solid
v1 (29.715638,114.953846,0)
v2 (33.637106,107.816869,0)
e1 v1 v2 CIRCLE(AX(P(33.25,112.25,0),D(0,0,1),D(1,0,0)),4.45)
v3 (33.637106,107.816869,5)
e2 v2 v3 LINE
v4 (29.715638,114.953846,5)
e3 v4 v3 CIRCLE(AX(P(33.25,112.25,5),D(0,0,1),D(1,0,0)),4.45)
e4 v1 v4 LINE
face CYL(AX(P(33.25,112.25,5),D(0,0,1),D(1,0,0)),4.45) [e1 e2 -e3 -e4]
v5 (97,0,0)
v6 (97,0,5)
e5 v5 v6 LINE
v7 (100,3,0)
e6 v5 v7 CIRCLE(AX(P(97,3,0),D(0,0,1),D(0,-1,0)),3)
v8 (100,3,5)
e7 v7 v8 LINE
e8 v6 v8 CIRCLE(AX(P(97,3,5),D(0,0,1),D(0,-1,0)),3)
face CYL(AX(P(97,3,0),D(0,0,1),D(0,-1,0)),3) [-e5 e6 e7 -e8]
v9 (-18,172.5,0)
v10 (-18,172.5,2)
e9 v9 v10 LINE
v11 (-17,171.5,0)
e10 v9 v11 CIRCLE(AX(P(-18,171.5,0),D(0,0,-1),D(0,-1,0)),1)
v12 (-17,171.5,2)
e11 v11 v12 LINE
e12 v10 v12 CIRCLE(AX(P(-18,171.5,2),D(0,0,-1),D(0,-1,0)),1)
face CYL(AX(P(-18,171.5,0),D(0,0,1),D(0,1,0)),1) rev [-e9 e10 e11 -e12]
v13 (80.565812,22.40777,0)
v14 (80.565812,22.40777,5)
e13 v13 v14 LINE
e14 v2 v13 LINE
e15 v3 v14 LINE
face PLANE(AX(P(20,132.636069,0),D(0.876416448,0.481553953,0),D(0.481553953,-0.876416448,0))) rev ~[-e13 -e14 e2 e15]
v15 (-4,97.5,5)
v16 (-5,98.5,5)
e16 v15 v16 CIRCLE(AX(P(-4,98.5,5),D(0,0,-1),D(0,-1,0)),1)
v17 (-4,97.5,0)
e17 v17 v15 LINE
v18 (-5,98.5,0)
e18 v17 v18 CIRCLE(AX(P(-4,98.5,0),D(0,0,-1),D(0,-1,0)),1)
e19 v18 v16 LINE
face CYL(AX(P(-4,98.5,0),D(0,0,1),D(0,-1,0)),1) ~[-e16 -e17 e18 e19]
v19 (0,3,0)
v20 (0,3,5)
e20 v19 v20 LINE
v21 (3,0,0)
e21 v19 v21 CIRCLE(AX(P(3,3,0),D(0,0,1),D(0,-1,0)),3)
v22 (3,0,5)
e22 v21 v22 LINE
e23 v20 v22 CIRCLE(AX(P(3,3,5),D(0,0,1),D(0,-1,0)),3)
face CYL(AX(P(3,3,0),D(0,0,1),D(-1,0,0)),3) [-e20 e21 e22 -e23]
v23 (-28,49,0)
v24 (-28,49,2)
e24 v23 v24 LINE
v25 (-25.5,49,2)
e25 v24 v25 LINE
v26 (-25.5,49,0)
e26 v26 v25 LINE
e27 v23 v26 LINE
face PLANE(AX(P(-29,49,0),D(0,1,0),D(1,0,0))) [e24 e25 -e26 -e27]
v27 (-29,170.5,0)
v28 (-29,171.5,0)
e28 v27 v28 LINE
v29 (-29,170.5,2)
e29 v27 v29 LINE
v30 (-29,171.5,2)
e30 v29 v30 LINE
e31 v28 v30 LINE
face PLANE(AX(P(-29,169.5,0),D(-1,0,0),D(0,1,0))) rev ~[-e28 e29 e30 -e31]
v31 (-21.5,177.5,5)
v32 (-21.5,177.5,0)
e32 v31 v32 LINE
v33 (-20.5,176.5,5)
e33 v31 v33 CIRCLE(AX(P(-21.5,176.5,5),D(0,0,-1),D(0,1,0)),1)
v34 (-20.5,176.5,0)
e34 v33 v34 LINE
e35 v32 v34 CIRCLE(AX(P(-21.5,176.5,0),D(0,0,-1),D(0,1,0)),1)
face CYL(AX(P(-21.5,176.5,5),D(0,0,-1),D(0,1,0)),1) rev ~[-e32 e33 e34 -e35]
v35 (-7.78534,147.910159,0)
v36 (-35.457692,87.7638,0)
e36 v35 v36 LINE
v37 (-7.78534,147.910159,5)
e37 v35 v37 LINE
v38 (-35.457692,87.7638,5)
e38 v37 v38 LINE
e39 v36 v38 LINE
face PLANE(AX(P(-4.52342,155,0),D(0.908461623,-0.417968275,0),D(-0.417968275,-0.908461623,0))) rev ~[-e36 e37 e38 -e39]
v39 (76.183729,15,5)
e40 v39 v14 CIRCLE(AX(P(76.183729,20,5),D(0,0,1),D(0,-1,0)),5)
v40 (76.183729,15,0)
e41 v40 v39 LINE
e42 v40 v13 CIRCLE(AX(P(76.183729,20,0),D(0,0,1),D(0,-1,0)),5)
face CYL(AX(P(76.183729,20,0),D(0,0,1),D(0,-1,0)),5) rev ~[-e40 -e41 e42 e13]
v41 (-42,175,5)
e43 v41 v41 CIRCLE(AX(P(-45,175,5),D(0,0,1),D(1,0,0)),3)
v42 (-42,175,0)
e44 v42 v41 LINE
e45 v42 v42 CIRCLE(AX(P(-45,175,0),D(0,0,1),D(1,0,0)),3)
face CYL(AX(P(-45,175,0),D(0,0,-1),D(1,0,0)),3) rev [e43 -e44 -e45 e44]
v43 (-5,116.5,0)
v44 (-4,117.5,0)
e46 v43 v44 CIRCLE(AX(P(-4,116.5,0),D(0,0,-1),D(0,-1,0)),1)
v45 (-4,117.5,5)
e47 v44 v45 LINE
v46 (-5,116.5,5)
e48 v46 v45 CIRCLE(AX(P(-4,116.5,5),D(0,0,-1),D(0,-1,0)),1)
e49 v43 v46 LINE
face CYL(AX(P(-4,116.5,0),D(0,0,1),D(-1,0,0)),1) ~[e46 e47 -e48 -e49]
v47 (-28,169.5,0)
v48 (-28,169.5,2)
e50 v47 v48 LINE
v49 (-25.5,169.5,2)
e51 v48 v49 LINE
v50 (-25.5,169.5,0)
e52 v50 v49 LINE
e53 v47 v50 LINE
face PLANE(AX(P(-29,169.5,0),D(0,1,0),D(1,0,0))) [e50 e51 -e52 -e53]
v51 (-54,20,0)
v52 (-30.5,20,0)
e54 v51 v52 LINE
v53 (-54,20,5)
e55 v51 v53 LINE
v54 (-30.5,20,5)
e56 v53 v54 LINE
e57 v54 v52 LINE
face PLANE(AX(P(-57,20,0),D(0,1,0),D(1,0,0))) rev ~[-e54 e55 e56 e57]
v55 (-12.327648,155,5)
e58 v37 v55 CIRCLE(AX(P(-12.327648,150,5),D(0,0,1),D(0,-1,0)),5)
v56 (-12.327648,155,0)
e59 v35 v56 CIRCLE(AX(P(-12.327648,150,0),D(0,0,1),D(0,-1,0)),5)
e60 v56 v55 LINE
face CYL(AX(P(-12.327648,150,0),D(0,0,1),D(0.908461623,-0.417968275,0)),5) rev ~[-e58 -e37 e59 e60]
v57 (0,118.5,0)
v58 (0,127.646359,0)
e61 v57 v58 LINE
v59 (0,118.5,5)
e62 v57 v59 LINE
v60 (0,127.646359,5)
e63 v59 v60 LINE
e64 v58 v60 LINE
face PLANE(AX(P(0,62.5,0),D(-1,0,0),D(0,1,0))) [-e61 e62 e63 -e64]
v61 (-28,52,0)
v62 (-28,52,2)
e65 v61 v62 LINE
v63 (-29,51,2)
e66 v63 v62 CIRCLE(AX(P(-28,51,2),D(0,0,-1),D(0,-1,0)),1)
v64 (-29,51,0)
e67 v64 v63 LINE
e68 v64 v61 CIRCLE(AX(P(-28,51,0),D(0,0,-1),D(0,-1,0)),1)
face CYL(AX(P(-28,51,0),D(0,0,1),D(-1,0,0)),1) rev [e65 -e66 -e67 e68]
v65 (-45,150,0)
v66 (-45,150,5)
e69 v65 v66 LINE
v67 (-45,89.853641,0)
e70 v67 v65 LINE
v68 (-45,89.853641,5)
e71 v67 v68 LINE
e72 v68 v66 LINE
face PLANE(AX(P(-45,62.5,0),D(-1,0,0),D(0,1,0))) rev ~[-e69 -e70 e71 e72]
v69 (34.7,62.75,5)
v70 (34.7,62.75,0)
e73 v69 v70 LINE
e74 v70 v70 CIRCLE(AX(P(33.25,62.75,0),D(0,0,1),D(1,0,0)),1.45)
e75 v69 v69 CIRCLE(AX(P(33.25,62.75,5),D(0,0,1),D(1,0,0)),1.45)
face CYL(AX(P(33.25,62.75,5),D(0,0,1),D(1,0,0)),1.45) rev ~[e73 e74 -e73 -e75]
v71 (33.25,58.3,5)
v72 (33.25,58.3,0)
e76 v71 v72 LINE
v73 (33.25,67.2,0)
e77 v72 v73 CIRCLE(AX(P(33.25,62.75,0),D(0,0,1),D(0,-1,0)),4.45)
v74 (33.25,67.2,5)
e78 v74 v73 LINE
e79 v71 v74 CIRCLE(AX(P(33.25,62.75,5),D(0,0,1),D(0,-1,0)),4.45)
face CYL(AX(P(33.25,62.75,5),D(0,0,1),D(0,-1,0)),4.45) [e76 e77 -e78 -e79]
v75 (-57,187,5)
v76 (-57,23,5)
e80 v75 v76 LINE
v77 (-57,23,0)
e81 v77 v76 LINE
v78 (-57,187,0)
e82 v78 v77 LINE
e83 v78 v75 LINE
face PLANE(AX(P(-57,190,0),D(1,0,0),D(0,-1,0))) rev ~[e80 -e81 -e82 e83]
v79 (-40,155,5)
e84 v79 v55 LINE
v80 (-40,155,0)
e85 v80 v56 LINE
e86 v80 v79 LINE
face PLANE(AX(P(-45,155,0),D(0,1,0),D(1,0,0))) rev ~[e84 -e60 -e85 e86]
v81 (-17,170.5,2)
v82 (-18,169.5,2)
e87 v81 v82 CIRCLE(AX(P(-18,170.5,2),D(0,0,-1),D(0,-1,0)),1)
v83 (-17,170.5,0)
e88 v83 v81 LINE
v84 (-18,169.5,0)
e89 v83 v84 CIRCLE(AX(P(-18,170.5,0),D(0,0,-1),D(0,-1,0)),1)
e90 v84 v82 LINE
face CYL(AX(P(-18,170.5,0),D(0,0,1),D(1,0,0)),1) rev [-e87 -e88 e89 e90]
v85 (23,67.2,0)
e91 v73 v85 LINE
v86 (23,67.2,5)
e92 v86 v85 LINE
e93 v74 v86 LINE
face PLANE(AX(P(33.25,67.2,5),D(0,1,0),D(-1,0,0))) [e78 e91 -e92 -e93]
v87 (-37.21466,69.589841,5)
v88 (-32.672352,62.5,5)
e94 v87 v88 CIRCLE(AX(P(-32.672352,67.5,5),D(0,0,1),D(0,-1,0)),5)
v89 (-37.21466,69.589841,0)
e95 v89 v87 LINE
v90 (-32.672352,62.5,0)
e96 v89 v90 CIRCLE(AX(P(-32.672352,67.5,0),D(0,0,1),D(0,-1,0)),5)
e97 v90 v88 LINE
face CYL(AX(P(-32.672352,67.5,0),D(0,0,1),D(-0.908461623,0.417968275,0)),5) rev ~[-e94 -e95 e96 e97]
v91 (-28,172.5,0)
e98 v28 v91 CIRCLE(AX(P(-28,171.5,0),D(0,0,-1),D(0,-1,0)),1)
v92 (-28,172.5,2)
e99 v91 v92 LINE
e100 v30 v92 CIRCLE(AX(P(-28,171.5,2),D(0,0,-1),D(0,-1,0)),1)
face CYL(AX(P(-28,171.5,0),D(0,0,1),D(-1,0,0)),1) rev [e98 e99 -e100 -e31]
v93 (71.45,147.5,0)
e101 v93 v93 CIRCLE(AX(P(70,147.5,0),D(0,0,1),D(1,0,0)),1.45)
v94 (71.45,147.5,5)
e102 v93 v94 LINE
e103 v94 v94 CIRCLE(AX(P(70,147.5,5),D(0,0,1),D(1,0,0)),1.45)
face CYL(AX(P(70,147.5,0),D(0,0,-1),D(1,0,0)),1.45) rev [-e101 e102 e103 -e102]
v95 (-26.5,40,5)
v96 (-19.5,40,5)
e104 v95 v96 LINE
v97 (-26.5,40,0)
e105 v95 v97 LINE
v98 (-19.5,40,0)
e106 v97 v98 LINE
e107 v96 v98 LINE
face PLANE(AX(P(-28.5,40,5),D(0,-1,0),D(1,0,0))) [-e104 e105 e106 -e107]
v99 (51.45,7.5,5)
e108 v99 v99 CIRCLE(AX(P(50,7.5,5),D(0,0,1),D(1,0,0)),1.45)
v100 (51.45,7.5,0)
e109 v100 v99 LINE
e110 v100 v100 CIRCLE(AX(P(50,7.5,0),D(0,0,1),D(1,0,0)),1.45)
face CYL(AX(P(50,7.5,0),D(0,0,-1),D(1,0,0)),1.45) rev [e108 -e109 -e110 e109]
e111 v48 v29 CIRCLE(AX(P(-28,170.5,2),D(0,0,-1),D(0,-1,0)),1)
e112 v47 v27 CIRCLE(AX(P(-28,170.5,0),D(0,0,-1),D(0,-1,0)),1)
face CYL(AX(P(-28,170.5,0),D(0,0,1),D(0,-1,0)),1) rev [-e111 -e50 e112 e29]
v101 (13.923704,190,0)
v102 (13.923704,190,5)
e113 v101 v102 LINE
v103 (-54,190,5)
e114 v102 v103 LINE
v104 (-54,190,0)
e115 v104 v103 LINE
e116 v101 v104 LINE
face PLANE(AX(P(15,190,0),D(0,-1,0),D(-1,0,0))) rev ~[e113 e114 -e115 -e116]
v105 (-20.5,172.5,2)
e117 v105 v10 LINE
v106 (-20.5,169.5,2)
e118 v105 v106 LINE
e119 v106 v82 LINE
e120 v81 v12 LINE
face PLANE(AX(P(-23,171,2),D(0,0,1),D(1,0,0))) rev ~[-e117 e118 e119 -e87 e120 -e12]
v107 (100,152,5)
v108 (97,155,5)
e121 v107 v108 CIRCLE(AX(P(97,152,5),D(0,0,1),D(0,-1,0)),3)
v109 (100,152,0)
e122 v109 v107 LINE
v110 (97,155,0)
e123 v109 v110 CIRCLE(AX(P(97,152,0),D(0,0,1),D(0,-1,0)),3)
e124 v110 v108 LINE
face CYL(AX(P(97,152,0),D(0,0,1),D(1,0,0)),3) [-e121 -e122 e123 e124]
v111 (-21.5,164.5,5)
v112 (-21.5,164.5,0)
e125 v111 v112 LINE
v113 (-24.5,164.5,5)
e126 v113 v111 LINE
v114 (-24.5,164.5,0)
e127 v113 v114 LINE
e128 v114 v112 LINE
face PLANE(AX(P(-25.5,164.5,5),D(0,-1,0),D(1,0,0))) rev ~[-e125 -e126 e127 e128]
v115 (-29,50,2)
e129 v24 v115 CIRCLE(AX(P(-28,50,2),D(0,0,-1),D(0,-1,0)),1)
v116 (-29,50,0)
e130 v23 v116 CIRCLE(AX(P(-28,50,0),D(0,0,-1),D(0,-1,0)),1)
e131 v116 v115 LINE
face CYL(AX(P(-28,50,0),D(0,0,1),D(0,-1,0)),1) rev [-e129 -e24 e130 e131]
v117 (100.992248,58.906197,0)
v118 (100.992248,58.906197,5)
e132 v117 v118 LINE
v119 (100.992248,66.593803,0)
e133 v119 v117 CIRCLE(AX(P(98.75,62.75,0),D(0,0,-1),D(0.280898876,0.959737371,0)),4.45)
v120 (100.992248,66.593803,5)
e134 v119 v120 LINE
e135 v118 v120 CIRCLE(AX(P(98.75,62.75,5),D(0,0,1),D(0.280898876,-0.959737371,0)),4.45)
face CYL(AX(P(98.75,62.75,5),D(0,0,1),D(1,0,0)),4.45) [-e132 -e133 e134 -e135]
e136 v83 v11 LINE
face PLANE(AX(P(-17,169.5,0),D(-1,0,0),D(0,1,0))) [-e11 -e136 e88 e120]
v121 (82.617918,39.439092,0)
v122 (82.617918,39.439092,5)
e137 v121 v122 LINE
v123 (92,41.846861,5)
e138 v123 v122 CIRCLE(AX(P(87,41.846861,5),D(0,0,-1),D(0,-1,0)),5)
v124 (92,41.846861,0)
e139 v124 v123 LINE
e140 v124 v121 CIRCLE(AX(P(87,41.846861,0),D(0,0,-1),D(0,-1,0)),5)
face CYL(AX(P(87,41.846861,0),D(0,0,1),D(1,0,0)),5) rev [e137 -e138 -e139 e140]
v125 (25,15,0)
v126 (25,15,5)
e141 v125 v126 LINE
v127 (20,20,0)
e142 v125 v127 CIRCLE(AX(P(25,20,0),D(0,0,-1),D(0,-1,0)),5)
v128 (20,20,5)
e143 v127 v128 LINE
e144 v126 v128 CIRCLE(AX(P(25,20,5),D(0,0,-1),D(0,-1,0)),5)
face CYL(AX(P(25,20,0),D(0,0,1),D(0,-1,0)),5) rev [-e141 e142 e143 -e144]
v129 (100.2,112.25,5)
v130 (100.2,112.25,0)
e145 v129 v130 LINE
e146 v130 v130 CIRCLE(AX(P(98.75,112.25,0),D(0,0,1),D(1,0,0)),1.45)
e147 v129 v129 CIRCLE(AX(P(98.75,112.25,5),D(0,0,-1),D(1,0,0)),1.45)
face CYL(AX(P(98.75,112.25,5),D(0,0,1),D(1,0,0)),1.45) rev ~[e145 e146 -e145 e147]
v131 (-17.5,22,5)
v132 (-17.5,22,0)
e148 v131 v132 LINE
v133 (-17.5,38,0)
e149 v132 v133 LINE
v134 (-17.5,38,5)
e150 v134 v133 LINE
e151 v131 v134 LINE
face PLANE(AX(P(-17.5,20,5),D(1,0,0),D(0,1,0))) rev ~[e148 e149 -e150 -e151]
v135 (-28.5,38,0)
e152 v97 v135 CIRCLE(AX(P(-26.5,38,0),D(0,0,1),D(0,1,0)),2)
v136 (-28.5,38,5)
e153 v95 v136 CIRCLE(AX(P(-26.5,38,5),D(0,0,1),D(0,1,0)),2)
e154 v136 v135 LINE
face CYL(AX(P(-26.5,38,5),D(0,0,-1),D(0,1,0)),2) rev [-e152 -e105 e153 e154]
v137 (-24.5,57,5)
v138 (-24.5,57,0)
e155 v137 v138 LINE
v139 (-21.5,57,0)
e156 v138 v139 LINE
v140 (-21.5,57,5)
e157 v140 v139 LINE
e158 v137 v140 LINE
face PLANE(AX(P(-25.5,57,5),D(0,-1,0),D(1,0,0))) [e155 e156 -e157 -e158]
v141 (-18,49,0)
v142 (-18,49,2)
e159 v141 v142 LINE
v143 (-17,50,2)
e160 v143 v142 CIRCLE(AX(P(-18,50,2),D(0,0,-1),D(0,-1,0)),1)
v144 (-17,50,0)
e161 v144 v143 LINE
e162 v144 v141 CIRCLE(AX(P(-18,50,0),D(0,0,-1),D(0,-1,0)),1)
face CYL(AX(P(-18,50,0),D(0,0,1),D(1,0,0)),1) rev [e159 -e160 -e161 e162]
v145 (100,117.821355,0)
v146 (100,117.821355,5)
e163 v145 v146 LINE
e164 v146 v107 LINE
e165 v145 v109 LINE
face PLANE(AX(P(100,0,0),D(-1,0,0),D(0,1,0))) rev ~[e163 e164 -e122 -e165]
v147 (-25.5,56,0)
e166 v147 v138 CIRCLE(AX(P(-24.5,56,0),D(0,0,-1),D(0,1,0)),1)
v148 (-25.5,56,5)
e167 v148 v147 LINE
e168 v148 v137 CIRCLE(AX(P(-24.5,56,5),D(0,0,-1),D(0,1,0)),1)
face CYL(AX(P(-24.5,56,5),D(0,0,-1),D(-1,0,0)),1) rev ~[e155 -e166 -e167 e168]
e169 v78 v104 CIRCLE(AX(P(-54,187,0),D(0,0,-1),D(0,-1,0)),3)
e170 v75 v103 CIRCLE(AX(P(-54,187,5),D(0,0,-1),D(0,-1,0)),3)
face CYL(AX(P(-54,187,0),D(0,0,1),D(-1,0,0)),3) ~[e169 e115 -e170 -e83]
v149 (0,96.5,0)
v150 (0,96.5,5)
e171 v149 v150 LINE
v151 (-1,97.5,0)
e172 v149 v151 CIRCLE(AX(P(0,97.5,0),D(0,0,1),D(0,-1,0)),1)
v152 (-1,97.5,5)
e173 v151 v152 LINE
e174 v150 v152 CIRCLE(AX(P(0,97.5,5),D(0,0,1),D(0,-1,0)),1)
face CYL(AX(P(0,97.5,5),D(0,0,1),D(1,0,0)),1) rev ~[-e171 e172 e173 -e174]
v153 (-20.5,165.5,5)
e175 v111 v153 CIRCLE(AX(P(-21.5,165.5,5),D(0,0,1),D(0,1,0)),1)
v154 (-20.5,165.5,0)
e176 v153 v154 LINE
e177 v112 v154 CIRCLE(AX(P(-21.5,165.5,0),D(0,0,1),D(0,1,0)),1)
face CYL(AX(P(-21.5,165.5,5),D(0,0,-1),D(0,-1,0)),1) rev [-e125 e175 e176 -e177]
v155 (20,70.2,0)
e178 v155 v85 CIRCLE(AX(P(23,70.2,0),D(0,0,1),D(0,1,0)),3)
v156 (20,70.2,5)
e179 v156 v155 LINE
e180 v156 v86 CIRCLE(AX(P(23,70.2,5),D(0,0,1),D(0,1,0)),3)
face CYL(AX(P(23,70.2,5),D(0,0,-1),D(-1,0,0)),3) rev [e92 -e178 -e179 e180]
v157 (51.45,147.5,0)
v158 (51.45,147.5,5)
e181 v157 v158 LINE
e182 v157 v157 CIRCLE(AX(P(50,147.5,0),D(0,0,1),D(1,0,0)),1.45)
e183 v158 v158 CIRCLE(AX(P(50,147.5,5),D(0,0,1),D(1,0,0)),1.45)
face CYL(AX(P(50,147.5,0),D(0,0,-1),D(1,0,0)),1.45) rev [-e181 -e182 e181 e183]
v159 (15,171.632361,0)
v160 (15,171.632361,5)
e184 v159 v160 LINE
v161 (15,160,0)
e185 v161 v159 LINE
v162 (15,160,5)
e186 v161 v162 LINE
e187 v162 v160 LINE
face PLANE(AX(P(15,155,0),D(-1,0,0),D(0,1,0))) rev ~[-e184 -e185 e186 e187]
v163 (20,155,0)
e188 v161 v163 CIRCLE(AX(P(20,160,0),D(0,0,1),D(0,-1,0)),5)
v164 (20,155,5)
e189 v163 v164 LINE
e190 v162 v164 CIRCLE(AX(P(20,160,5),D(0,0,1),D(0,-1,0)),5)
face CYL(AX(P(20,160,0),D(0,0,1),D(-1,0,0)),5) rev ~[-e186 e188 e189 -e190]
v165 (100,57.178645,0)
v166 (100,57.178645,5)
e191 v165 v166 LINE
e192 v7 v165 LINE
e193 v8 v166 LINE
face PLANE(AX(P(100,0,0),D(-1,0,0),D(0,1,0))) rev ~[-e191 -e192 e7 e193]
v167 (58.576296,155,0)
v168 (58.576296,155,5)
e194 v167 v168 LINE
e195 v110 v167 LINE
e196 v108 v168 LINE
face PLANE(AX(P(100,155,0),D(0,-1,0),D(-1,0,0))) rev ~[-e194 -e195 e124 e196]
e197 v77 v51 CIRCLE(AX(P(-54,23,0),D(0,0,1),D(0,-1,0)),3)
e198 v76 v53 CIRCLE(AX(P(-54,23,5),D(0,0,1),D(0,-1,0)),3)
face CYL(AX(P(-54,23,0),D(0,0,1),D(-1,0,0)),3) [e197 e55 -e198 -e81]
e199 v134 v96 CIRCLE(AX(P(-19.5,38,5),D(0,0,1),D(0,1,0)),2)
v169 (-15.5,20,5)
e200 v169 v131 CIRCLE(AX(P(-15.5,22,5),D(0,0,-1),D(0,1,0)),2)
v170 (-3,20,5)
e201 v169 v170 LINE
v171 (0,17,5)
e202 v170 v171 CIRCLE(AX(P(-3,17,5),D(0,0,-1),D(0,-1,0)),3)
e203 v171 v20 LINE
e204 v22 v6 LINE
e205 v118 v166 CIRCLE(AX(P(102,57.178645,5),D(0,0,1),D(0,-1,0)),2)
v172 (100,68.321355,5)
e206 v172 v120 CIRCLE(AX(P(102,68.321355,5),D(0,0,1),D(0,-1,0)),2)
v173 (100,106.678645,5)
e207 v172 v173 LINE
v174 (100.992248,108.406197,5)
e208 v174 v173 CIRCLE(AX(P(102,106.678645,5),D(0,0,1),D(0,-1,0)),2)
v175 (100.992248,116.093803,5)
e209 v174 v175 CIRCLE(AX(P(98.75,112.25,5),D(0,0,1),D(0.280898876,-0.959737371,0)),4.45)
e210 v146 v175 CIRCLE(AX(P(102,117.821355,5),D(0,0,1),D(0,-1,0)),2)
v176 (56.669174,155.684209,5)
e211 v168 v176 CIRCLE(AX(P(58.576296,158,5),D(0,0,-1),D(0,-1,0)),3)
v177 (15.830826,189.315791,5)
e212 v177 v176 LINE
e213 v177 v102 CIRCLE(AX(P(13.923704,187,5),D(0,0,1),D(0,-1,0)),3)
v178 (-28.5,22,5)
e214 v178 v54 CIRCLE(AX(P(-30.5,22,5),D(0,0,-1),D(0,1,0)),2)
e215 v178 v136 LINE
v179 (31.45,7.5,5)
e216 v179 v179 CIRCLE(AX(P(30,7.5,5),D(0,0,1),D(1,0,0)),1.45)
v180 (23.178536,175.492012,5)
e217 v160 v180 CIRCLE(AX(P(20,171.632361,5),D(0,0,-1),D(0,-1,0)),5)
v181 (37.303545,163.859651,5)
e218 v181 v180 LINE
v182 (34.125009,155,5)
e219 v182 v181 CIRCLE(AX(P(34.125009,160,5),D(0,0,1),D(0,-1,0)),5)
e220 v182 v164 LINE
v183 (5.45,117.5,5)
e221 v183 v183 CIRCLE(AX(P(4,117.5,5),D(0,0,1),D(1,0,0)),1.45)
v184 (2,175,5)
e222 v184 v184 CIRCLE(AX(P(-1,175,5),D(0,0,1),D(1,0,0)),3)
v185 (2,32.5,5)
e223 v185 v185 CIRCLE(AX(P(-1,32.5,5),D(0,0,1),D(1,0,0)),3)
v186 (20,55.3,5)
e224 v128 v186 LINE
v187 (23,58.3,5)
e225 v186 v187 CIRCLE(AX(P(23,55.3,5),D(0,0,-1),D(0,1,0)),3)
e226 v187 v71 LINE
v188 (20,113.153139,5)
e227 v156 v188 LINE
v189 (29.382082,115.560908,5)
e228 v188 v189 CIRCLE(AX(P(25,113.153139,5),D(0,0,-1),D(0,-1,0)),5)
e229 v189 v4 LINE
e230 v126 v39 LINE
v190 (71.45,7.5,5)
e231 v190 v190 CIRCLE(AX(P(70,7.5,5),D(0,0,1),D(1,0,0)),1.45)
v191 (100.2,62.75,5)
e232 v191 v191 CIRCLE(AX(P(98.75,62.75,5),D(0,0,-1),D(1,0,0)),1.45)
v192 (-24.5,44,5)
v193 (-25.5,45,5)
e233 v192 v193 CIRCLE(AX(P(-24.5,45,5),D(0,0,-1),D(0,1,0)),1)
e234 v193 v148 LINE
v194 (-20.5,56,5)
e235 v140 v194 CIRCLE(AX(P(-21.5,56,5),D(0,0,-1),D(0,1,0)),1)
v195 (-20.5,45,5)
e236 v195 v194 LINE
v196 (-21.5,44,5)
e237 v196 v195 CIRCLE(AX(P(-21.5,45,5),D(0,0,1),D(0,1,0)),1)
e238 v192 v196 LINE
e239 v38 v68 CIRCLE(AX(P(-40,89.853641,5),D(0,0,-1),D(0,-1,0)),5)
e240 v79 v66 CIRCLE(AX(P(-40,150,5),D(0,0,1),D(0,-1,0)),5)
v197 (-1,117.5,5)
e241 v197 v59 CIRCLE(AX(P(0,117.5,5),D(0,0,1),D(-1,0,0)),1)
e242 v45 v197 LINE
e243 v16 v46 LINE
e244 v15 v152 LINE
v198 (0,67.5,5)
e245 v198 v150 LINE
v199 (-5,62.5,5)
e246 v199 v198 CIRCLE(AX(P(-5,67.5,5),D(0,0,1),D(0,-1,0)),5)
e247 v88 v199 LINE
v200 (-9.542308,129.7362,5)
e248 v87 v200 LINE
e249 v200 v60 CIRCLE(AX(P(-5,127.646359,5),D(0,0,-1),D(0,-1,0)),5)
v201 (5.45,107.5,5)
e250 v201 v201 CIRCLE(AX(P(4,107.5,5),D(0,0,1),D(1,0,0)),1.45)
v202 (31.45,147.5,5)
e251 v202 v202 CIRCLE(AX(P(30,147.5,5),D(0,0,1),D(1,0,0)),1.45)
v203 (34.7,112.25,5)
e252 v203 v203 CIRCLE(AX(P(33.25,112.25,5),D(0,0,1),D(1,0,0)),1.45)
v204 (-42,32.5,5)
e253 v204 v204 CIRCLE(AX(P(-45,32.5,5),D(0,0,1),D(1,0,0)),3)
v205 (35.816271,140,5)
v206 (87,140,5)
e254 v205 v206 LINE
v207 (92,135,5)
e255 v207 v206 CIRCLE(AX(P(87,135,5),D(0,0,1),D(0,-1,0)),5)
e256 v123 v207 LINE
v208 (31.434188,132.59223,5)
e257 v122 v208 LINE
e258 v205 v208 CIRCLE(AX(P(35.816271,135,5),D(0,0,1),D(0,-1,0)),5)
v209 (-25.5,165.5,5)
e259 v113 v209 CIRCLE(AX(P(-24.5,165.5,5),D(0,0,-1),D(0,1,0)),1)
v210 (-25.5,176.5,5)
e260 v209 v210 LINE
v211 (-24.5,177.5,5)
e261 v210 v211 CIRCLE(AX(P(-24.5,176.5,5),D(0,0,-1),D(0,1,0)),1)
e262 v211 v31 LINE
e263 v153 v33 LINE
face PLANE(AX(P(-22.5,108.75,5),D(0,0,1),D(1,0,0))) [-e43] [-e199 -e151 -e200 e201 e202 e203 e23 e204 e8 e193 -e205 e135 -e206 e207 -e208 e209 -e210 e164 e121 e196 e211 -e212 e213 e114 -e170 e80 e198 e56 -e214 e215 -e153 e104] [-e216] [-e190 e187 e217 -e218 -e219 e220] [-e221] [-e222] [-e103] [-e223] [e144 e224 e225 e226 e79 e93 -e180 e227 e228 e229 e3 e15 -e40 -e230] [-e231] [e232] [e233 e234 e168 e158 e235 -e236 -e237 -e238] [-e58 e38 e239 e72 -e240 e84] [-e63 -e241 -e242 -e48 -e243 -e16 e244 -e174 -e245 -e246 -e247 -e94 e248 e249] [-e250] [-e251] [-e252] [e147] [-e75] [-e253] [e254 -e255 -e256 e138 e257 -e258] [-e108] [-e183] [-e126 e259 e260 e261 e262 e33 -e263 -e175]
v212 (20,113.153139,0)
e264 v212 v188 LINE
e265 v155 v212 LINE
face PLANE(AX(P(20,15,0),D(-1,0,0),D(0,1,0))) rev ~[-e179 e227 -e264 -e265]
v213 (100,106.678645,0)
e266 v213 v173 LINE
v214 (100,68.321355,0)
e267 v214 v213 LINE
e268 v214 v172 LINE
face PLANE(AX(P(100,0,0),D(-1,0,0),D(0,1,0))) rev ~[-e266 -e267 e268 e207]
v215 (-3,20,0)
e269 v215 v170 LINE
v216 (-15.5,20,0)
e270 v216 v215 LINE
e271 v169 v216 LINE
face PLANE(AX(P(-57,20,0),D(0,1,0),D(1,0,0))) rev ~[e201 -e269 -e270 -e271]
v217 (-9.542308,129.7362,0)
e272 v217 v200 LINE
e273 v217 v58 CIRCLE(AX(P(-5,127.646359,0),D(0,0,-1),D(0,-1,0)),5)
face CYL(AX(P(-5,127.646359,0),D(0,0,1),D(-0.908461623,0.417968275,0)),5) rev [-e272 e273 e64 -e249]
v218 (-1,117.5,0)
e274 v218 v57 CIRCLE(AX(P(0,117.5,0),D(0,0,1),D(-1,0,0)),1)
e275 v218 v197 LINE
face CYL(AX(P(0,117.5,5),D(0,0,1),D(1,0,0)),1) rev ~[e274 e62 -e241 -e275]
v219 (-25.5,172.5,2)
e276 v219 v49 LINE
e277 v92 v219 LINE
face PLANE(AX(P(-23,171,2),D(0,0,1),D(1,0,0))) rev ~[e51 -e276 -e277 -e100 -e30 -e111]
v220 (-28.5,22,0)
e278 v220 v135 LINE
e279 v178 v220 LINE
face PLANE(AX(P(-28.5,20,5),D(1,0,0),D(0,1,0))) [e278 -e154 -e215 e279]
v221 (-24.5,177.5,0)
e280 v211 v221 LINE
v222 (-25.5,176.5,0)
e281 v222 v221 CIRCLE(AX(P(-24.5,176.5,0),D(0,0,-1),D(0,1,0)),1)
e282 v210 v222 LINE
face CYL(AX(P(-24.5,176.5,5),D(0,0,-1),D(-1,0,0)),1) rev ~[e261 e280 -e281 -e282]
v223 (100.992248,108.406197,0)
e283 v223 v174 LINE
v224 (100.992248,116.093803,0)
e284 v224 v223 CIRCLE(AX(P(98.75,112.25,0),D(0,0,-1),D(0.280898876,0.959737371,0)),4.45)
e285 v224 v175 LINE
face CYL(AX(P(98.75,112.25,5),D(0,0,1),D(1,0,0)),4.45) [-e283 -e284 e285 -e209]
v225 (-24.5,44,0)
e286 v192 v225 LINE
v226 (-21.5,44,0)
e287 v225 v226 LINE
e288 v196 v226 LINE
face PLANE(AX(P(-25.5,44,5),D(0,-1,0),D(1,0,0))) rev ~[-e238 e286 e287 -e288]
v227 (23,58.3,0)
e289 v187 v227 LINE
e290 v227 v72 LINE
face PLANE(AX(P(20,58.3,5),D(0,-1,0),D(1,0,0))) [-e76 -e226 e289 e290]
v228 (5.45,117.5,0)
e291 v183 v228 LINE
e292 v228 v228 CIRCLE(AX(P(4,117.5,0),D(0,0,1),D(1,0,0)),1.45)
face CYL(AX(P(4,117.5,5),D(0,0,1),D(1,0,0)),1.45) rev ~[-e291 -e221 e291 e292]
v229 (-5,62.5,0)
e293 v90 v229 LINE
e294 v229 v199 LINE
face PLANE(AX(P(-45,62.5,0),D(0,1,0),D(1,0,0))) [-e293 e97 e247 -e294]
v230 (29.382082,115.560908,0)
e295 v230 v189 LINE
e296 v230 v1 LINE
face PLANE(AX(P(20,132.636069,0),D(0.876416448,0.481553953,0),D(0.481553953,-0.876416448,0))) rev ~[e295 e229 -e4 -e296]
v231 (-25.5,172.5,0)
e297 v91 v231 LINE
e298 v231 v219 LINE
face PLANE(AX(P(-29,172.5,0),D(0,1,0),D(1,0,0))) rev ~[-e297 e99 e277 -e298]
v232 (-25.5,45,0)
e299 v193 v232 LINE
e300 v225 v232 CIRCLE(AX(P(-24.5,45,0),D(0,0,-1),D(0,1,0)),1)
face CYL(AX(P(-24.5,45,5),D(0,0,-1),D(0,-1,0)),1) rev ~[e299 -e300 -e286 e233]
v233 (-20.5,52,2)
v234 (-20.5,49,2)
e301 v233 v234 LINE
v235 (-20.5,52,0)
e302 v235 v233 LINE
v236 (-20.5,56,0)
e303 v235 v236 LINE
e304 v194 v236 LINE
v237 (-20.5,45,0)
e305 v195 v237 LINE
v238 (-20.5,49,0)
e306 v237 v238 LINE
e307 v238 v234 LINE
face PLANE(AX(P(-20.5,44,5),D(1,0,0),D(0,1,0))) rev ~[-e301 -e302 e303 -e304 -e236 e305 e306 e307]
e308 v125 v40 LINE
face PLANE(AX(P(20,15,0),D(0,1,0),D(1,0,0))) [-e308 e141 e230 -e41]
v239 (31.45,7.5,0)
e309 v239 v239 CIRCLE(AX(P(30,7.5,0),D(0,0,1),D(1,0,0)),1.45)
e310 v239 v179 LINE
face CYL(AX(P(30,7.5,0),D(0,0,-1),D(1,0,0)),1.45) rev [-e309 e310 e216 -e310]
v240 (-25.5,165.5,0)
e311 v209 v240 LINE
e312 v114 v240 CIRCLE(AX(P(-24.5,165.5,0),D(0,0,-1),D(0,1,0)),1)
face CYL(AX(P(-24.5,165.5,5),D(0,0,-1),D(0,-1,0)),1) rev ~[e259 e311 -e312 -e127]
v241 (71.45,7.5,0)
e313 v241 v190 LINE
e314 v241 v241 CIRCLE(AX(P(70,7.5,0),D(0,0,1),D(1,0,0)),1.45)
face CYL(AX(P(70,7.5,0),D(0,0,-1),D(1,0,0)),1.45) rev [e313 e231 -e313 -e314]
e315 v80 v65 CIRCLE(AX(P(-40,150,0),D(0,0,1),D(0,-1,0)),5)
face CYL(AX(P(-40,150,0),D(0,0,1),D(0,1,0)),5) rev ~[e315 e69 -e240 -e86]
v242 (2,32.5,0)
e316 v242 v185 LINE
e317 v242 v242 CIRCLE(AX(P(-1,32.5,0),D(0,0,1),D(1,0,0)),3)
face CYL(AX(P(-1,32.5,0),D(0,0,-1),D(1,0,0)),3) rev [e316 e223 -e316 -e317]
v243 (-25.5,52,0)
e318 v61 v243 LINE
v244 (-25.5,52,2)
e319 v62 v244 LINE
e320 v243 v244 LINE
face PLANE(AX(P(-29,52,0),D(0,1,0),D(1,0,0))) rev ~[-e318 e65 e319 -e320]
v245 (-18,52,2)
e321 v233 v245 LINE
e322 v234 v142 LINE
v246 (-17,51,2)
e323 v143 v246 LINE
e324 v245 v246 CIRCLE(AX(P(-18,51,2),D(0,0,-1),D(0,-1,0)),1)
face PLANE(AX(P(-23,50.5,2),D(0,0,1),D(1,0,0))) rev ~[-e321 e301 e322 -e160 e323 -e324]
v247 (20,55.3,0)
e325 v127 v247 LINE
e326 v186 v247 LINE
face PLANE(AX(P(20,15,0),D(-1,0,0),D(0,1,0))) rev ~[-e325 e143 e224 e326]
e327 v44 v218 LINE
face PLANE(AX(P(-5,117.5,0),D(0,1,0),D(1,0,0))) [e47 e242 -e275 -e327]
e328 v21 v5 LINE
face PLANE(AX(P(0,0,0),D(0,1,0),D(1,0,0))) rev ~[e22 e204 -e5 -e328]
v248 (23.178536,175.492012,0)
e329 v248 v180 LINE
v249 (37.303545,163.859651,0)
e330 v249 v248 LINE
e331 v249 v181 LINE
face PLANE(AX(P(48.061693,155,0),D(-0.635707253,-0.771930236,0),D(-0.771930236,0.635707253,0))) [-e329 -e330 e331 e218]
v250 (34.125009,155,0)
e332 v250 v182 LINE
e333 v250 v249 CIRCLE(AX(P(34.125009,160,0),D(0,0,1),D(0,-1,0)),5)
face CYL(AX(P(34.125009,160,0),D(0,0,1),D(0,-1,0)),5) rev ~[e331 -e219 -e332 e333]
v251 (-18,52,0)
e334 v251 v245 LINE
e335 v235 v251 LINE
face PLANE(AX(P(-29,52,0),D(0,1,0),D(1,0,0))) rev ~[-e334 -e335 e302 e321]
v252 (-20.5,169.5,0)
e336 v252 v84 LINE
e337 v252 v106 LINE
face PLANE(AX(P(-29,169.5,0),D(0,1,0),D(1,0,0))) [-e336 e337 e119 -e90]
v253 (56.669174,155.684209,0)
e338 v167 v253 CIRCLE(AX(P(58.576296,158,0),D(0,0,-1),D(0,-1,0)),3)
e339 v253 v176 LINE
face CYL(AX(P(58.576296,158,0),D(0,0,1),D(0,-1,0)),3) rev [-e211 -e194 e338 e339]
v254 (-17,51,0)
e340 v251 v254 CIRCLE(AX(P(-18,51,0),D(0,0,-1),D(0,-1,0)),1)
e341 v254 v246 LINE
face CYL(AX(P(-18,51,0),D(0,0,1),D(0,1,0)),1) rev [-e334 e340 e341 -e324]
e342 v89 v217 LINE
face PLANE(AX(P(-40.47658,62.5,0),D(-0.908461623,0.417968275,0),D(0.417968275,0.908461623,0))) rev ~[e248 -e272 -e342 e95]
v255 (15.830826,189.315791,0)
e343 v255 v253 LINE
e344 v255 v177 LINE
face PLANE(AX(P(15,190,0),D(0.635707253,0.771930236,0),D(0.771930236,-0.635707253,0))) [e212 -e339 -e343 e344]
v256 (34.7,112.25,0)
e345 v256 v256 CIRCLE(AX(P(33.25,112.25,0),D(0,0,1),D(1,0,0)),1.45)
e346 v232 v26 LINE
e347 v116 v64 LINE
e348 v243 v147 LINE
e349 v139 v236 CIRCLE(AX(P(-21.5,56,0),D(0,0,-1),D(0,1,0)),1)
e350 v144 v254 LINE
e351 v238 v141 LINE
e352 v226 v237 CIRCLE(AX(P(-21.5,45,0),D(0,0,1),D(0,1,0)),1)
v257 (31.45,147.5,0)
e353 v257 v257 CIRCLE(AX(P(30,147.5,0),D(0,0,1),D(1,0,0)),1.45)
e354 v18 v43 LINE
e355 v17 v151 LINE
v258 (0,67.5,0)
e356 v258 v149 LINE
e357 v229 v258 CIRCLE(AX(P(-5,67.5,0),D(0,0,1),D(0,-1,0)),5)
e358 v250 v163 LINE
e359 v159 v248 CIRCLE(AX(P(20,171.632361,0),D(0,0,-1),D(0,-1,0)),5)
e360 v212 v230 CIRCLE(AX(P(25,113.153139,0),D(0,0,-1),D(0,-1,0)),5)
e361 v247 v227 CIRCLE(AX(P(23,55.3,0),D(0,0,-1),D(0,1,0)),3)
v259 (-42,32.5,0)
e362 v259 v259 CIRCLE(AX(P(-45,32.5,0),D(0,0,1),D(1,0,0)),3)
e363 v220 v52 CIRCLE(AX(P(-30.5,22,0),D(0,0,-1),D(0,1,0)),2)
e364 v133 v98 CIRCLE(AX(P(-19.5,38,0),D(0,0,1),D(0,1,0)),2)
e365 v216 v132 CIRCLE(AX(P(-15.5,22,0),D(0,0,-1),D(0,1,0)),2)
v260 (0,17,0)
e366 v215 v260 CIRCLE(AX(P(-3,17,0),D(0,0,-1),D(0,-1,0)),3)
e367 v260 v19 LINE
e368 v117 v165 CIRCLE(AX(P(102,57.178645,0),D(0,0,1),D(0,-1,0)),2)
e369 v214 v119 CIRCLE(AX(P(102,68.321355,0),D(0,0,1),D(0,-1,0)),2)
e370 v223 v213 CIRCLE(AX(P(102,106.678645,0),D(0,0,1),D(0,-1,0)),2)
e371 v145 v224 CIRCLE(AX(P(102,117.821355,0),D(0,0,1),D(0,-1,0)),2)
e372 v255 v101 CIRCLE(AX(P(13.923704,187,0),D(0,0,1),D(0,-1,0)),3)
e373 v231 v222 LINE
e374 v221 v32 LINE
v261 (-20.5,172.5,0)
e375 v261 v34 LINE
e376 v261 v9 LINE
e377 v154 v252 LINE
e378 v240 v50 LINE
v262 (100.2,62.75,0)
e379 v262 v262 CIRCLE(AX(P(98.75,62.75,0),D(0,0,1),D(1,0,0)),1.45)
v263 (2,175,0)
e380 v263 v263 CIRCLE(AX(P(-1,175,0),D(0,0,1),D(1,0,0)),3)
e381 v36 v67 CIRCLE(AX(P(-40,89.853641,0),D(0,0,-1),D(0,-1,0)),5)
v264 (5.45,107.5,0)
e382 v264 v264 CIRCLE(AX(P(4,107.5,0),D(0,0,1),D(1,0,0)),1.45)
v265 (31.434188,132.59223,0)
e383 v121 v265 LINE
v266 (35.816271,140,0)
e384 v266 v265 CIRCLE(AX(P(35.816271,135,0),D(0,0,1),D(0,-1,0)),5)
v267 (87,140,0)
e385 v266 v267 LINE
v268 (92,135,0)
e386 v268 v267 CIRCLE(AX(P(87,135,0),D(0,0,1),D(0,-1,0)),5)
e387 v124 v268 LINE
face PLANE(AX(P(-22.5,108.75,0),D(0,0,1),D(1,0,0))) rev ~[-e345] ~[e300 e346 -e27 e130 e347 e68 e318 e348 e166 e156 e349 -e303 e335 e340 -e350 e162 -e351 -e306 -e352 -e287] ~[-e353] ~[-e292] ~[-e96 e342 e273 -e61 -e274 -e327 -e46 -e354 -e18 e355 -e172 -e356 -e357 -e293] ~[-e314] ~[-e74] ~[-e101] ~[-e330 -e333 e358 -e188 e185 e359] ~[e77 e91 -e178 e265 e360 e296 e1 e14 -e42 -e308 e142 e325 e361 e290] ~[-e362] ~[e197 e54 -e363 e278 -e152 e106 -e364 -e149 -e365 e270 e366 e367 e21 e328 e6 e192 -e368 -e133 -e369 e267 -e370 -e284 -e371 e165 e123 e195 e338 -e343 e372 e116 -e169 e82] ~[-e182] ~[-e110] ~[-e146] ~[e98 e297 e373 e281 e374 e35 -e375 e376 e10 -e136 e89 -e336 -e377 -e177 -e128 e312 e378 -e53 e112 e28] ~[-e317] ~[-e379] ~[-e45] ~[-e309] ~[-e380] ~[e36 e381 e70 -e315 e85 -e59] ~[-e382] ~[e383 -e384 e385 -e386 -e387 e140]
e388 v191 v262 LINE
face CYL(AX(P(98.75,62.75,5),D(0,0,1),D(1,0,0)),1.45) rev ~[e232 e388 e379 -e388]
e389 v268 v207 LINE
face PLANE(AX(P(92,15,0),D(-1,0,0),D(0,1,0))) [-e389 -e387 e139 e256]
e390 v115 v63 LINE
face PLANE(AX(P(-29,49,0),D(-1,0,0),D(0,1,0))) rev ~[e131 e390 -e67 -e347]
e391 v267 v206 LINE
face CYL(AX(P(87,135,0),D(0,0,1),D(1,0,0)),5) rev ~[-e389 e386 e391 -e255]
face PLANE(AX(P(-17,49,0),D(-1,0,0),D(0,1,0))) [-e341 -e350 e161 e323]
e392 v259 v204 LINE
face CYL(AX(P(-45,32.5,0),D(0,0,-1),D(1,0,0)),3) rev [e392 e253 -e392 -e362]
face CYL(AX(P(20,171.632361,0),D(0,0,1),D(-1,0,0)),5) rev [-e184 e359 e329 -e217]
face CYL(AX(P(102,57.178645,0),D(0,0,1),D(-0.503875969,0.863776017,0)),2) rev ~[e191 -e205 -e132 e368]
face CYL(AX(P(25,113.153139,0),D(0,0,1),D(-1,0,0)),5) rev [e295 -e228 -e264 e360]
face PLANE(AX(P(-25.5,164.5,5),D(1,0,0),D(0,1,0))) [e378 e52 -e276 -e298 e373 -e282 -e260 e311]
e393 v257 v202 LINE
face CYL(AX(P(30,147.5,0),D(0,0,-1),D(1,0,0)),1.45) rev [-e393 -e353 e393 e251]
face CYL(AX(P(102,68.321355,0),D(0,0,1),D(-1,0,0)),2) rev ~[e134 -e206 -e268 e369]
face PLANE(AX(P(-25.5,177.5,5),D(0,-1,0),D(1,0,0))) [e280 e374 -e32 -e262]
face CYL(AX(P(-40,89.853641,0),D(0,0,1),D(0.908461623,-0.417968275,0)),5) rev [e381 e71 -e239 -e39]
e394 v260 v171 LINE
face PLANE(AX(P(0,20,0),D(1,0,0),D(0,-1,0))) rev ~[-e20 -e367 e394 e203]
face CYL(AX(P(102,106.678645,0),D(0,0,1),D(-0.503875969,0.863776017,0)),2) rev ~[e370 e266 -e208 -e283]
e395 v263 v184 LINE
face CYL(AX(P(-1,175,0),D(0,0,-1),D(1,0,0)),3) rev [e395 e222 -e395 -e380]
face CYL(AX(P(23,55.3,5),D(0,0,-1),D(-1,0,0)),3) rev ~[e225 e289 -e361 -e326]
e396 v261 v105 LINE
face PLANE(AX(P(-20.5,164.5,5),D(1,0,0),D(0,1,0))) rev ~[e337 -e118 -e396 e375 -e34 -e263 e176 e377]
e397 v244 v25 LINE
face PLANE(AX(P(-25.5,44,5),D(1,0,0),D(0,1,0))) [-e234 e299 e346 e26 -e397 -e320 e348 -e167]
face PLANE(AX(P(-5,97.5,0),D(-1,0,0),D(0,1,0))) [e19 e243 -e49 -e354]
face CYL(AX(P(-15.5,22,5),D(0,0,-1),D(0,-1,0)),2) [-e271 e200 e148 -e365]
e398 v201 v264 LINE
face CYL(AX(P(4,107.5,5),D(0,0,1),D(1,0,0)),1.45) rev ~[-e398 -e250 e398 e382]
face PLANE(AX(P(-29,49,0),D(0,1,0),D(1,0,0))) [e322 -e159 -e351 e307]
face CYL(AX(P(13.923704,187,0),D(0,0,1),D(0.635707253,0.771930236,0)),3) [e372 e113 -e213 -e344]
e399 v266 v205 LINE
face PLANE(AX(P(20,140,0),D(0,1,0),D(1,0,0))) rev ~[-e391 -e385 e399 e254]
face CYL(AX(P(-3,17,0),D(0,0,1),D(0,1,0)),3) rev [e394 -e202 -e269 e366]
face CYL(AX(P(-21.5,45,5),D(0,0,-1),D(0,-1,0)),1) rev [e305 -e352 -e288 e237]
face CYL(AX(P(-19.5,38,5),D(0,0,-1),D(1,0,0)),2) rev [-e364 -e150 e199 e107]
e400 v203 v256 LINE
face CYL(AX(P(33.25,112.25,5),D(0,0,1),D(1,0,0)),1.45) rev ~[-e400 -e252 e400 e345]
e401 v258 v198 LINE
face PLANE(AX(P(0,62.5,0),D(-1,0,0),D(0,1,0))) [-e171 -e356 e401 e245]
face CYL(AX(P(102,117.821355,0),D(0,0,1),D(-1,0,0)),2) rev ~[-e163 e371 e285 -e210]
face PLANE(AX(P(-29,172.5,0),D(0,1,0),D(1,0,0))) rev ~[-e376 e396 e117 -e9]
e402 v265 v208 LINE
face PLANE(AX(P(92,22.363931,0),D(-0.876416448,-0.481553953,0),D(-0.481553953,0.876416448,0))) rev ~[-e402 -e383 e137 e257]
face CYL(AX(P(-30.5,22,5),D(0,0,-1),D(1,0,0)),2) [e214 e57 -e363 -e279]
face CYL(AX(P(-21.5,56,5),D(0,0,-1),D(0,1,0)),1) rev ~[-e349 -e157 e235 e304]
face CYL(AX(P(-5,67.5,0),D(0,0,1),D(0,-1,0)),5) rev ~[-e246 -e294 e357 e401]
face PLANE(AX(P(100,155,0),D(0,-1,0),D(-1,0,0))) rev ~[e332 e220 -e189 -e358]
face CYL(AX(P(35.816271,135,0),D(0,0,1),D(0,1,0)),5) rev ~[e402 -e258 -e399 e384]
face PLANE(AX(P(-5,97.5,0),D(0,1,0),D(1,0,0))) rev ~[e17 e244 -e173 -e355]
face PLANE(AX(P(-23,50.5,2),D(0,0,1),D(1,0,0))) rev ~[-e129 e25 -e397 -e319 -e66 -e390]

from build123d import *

# Parameters (mm, degrees)
SKETCH_1_R          = 3
SKETCH_1_R_2        = 1.45
SKETCH_1_W          = 72
SKETCH_1_H          = 125
SKETCH_1_W_2        = 45
SKETCH_1_H_2        = 92.5
EXTRUDE_1_DEPTH     = 5
SKETCH_2_W          = 5
SKETCH_2_H          = 13
CUT_EXTRUDE_1_DEPTH = 215.767315949
CUT_EXTRUDE_START   = -5
SKETCH_3_W          = 12
SKETCH_3_H          = 3
CUT_EXTRUDE_2_DEPTH = 2
EXTRUDE_2_DEPTH     = 5
FILLET_1_R          = 5
FILLET_2_R          = 3
SKETCH_5_R          = 1.45
CUT_EXTRUDE_3_DEPTH = 215.767315949
EXTRUDE_START       = 5
SKETCH_6_R          = 4.45
SKETCH_6_R_2        = 1.45
EXTRUDE_3_DEPTH     = 5
SKETCH_7_W          = 5
SKETCH_7_H          = 20
EXTRUDE_4_DEPTH     = 5
SKETCH_8_R          = 1.45
CUT_EXTRUDE_4_DEPTH = 217.275842387
FILLET_3_R          = 3
SKETCH_9_R          = 1
CUT_EXTRUDE_5_DEPTH = 217.275842387
FILLET_4_R          = 1
FILLET_5_R          = 1
SKETCH_10_W         = 11
SKETCH_10_H         = 20
CUT_EXTRUDE_6_DEPTH = 10
FILLET_6_R          = 2


with BuildPart() as part:
    # 草图1 → 凸台-拉伸1 (new body)
    with BuildSketch(Plane.XY):
        Polygon((-57, 190), (-57, 20), (0, 20), (0, 0), (100, 0), (100, 155), (15, 155), (15, 190), align=None)
        with Locations((-45, 175)):
            Circle(SKETCH_1_R, mode=Mode.SUBTRACT)
        with Locations((-1, 175)):
            Circle(SKETCH_1_R, mode=Mode.SUBTRACT)
        with Locations((-1, 32.5)):
            Circle(SKETCH_1_R, mode=Mode.SUBTRACT)
        with Locations((-45, 32.5)):
            Circle(SKETCH_1_R, mode=Mode.SUBTRACT)
        with Locations((30, 7.5)):
            Circle(SKETCH_1_R_2, mode=Mode.SUBTRACT)
        with Locations((50, 7.5)):
            Circle(SKETCH_1_R_2, mode=Mode.SUBTRACT)
        with Locations((30, 147.5)):
            Circle(SKETCH_1_R_2, mode=Mode.SUBTRACT)
        with Locations((50, 147.5)):
            Circle(SKETCH_1_R_2, mode=Mode.SUBTRACT)
        with Locations((70, 147.5)):
            Circle(SKETCH_1_R_2, mode=Mode.SUBTRACT)
        with Locations((70, 7.5)):
            Circle(SKETCH_1_R_2, mode=Mode.SUBTRACT)
        with Locations((56, 77.5)):
            Rectangle(SKETCH_1_W, SKETCH_1_H, mode=Mode.SUBTRACT)
        with Locations((-22.5, 108.75)):
            Rectangle(SKETCH_1_W_2, SKETCH_1_H_2, mode=Mode.SUBTRACT)
    extrude(amount=EXTRUDE_1_DEPTH)

    # 草图2 → 切除-拉伸1 (cut, through all)
    with BuildSketch(Plane.XY.offset(5)):
        with Locations((-23, 171)):
            Rectangle(SKETCH_2_W, SKETCH_2_H)
        with Locations((-23, 50.5)):
            Rectangle(SKETCH_2_W, SKETCH_2_H)
    extrude(amount=-CUT_EXTRUDE_1_DEPTH, mode=Mode.SUBTRACT)

    # 草图3 → 切除-拉伸2 (cut)
    with BuildSketch(Plane.XY.offset(5).offset(CUT_EXTRUDE_START)):
        with Locations((-23, 50.5)):
            Rectangle(SKETCH_3_W, SKETCH_3_H)
        with Locations((-23, 171)):
            Rectangle(SKETCH_3_W, SKETCH_3_H)
    extrude(amount=CUT_EXTRUDE_2_DEPTH, mode=Mode.SUBTRACT)

    # 草图4 → 凸台-拉伸2 (add)
    with BuildSketch(Plane.XY):
        Polygon((-4.523420353, 155), (-45, 67.023420353), (-45, 62.5), (-40.476579647, 62.5), (0, 150.476579647), (0, 155), align=None)
        Polygon((20, 140), (20, 132.636069246), (84.636069246, 15), (92, 15), (92, 22.363930754), (27.363930754, 140), align=None)
        Polygon((15, 190), (57.5, 155), (48.061693338, 155), (15, 182.227276866), align=None)
    extrude(amount=EXTRUDE_2_DEPTH)

    # 圆角1
    fillet_1_edges = [part.edges().sort_by_distance(p)[0] for p in [
        (15, 155, 2.5),
        (-4.523420353, 155, 2.5),
        (-45, 67.023420353, 2.5),
        (-40.476579647, 62.5, 2.5),
        (0, 150.476579647, 2.5),
        (27.363930754, 140, 2.5),
        (20, 132.636069246, 2.5),
        (84.636069246, 15, 2.5),
        (92, 22.363930754, 2.5),
        (15, 182.227276866, 2.5),
        (48.061693338, 155, 2.5),
        (20, 15, 2.5),
        (92, 140, 2.5),
        (-45, 155, 2.5),
        (0, 62.5, 2.5),
    ]]
    fillet(fillet_1_edges, radius=FILLET_1_R)

    # 圆角2
    fillet_2_edges = [part.edges().sort_by_distance(p)[0] for p in [
        (15, 190, 2.5),
        (100, 155, 2.5),
        (100, 0, 2.5),
        (0, 0, 2.5),
        (0, 20, 2.5),
        (-57, 20, 2.5),
        (-57, 190, 2.5),
        (57.5, 155, 2.5),
    ]]
    fillet(fillet_2_edges, radius=FILLET_2_R)

    # 草图5 → 切除-拉伸3 (cut, through all)
    with BuildSketch(Plane.XY.offset(5)):
        with Locations((98.75, 112.25)):
            Circle(SKETCH_5_R)
        with Locations((98.75, 62.75)):
            Circle(SKETCH_5_R)
        with Locations((33.25, 112.25)):
            Circle(SKETCH_5_R)
        with Locations((33.25, 62.75)):
            Circle(SKETCH_5_R)
    extrude(amount=-CUT_EXTRUDE_3_DEPTH, mode=Mode.SUBTRACT)

    # 草图6 → 凸台-拉伸3 (add)
    # profile 1 of 4: a face of its own
    with BuildSketch(Plane.XY.offset(EXTRUDE_START)):
        with Locations((33.25, 112.25)):
            Circle(SKETCH_6_R)
        with Locations((33.25, 112.25)):
            Circle(SKETCH_6_R_2, mode=Mode.SUBTRACT)
    # profile 2 of 4: a face of its own
    with BuildSketch(Plane.XY.offset(EXTRUDE_START)):
        with Locations((98.75, 62.75)):
            Circle(SKETCH_6_R)
        with Locations((98.75, 62.75)):
            Circle(SKETCH_6_R_2, mode=Mode.SUBTRACT)
    # profile 3 of 4: a face of its own
    with BuildSketch(Plane.XY.offset(EXTRUDE_START)):
        with Locations((98.75, 112.25)):
            Circle(SKETCH_6_R)
        with Locations((98.75, 112.25)):
            Circle(SKETCH_6_R_2, mode=Mode.SUBTRACT)
    # profile 4 of 4: a face of its own
    with BuildSketch(Plane.XY.offset(EXTRUDE_START)):
        with BuildLine():
            Line((33.25, 67.2), (20, 67.2))
            Line((20, 67.2), (20, 58.3))
            Line((20, 58.3), (33.25, 58.3))
            ThreePointArc((33.25, 58.3), (37.7, 62.75), (33.25, 67.2))
        make_face()
        with Locations((33.25, 62.75)):
            Circle(SKETCH_6_R_2, mode=Mode.SUBTRACT)
    extrude(amount=-EXTRUDE_3_DEPTH)

    # 草图7 → 凸台-拉伸4 (add)
    with BuildSketch(Plane.XY):
        with Locations((-2.5, 107.5)):
            Rectangle(SKETCH_7_W, SKETCH_7_H)
    extrude(amount=EXTRUDE_4_DEPTH)

    # 草图8 → 切除-拉伸4 (cut, through all)
    with BuildSketch(Plane.XY.offset(5)):
        with Locations((4, 117.5)):
            Circle(SKETCH_8_R)
        with Locations((4, 107.5)):
            Circle(SKETCH_8_R)
    extrude(amount=-CUT_EXTRUDE_4_DEPTH, mode=Mode.SUBTRACT)

    # 圆角3
    fillet_3_edges = [part.edges().sort_by_distance(p)[0] for p in [
        (20, 58.3, 2.5),
        (20, 67.2, 2.5),
    ]]
    fillet(fillet_3_edges, radius=FILLET_3_R)

    # 草图9 → 切除-拉伸5 (cut, through all)
    with BuildSketch(Plane.XY.offset(5)):
        with Locations((0, 117.5)):
            Circle(SKETCH_9_R)
        with Locations((0, 97.5)):
            Circle(SKETCH_9_R)
    extrude(amount=-CUT_EXTRUDE_5_DEPTH, mode=Mode.SUBTRACT)

    # 圆角4
    fillet_4_edges = [part.edges().sort_by_distance(p)[0] for p in [
        (-5, 117.5, 2.5),
        (-5, 97.5, 2.5),
    ]]
    fillet(fillet_4_edges, radius=FILLET_4_R)

    # 圆角5
    fillet_5_edges = [part.edges().sort_by_distance(p)[0] for p in [
        (-25.5, 177.5, 2.5),
        (-20.5, 177.5, 2.5),
        (-20.5, 164.5, 2.5),
        (-25.5, 164.5, 2.5),
        (-20.5, 44, 2.5),
        (-25.5, 44, 2.5),
        (-25.5, 57, 2.5),
        (-20.5, 57, 2.5),
        (-29, 49, 1),
        (-17, 49, 1),
        (-17, 52, 1),
        (-29, 52, 1),
        (-17, 172.5, 1),
        (-29, 169.5, 1),
        (-17, 169.5, 1),
        (-29, 172.5, 1),
    ]]
    fillet(fillet_5_edges, radius=FILLET_5_R)

    # 草图10 → 切除-拉伸6 (cut)
    with BuildSketch(Plane.XY.offset(5)):
        with Locations((-23, 30)):
            Rectangle(SKETCH_10_W, SKETCH_10_H)
    extrude(amount=-CUT_EXTRUDE_6_DEPTH, mode=Mode.SUBTRACT)

    # 圆角6
    fillet_6_edges = [part.edges().sort_by_distance(p)[0] for p in [
        (100, 116.520831301, 2.5),
        (100, 107.979168699, 2.5),
        (100, 58.479168699, 2.5),
        (100, 67.020831301, 2.5),
        (-17.5, 20, 2.5),
        (-28.5, 20, 2.5),
        (-28.5, 40, 2.5),
        (-17.5, 40, 2.5),
    ]]
    fillet(fillet_6_edges, radius=FILLET_6_R)


solid = part.part
